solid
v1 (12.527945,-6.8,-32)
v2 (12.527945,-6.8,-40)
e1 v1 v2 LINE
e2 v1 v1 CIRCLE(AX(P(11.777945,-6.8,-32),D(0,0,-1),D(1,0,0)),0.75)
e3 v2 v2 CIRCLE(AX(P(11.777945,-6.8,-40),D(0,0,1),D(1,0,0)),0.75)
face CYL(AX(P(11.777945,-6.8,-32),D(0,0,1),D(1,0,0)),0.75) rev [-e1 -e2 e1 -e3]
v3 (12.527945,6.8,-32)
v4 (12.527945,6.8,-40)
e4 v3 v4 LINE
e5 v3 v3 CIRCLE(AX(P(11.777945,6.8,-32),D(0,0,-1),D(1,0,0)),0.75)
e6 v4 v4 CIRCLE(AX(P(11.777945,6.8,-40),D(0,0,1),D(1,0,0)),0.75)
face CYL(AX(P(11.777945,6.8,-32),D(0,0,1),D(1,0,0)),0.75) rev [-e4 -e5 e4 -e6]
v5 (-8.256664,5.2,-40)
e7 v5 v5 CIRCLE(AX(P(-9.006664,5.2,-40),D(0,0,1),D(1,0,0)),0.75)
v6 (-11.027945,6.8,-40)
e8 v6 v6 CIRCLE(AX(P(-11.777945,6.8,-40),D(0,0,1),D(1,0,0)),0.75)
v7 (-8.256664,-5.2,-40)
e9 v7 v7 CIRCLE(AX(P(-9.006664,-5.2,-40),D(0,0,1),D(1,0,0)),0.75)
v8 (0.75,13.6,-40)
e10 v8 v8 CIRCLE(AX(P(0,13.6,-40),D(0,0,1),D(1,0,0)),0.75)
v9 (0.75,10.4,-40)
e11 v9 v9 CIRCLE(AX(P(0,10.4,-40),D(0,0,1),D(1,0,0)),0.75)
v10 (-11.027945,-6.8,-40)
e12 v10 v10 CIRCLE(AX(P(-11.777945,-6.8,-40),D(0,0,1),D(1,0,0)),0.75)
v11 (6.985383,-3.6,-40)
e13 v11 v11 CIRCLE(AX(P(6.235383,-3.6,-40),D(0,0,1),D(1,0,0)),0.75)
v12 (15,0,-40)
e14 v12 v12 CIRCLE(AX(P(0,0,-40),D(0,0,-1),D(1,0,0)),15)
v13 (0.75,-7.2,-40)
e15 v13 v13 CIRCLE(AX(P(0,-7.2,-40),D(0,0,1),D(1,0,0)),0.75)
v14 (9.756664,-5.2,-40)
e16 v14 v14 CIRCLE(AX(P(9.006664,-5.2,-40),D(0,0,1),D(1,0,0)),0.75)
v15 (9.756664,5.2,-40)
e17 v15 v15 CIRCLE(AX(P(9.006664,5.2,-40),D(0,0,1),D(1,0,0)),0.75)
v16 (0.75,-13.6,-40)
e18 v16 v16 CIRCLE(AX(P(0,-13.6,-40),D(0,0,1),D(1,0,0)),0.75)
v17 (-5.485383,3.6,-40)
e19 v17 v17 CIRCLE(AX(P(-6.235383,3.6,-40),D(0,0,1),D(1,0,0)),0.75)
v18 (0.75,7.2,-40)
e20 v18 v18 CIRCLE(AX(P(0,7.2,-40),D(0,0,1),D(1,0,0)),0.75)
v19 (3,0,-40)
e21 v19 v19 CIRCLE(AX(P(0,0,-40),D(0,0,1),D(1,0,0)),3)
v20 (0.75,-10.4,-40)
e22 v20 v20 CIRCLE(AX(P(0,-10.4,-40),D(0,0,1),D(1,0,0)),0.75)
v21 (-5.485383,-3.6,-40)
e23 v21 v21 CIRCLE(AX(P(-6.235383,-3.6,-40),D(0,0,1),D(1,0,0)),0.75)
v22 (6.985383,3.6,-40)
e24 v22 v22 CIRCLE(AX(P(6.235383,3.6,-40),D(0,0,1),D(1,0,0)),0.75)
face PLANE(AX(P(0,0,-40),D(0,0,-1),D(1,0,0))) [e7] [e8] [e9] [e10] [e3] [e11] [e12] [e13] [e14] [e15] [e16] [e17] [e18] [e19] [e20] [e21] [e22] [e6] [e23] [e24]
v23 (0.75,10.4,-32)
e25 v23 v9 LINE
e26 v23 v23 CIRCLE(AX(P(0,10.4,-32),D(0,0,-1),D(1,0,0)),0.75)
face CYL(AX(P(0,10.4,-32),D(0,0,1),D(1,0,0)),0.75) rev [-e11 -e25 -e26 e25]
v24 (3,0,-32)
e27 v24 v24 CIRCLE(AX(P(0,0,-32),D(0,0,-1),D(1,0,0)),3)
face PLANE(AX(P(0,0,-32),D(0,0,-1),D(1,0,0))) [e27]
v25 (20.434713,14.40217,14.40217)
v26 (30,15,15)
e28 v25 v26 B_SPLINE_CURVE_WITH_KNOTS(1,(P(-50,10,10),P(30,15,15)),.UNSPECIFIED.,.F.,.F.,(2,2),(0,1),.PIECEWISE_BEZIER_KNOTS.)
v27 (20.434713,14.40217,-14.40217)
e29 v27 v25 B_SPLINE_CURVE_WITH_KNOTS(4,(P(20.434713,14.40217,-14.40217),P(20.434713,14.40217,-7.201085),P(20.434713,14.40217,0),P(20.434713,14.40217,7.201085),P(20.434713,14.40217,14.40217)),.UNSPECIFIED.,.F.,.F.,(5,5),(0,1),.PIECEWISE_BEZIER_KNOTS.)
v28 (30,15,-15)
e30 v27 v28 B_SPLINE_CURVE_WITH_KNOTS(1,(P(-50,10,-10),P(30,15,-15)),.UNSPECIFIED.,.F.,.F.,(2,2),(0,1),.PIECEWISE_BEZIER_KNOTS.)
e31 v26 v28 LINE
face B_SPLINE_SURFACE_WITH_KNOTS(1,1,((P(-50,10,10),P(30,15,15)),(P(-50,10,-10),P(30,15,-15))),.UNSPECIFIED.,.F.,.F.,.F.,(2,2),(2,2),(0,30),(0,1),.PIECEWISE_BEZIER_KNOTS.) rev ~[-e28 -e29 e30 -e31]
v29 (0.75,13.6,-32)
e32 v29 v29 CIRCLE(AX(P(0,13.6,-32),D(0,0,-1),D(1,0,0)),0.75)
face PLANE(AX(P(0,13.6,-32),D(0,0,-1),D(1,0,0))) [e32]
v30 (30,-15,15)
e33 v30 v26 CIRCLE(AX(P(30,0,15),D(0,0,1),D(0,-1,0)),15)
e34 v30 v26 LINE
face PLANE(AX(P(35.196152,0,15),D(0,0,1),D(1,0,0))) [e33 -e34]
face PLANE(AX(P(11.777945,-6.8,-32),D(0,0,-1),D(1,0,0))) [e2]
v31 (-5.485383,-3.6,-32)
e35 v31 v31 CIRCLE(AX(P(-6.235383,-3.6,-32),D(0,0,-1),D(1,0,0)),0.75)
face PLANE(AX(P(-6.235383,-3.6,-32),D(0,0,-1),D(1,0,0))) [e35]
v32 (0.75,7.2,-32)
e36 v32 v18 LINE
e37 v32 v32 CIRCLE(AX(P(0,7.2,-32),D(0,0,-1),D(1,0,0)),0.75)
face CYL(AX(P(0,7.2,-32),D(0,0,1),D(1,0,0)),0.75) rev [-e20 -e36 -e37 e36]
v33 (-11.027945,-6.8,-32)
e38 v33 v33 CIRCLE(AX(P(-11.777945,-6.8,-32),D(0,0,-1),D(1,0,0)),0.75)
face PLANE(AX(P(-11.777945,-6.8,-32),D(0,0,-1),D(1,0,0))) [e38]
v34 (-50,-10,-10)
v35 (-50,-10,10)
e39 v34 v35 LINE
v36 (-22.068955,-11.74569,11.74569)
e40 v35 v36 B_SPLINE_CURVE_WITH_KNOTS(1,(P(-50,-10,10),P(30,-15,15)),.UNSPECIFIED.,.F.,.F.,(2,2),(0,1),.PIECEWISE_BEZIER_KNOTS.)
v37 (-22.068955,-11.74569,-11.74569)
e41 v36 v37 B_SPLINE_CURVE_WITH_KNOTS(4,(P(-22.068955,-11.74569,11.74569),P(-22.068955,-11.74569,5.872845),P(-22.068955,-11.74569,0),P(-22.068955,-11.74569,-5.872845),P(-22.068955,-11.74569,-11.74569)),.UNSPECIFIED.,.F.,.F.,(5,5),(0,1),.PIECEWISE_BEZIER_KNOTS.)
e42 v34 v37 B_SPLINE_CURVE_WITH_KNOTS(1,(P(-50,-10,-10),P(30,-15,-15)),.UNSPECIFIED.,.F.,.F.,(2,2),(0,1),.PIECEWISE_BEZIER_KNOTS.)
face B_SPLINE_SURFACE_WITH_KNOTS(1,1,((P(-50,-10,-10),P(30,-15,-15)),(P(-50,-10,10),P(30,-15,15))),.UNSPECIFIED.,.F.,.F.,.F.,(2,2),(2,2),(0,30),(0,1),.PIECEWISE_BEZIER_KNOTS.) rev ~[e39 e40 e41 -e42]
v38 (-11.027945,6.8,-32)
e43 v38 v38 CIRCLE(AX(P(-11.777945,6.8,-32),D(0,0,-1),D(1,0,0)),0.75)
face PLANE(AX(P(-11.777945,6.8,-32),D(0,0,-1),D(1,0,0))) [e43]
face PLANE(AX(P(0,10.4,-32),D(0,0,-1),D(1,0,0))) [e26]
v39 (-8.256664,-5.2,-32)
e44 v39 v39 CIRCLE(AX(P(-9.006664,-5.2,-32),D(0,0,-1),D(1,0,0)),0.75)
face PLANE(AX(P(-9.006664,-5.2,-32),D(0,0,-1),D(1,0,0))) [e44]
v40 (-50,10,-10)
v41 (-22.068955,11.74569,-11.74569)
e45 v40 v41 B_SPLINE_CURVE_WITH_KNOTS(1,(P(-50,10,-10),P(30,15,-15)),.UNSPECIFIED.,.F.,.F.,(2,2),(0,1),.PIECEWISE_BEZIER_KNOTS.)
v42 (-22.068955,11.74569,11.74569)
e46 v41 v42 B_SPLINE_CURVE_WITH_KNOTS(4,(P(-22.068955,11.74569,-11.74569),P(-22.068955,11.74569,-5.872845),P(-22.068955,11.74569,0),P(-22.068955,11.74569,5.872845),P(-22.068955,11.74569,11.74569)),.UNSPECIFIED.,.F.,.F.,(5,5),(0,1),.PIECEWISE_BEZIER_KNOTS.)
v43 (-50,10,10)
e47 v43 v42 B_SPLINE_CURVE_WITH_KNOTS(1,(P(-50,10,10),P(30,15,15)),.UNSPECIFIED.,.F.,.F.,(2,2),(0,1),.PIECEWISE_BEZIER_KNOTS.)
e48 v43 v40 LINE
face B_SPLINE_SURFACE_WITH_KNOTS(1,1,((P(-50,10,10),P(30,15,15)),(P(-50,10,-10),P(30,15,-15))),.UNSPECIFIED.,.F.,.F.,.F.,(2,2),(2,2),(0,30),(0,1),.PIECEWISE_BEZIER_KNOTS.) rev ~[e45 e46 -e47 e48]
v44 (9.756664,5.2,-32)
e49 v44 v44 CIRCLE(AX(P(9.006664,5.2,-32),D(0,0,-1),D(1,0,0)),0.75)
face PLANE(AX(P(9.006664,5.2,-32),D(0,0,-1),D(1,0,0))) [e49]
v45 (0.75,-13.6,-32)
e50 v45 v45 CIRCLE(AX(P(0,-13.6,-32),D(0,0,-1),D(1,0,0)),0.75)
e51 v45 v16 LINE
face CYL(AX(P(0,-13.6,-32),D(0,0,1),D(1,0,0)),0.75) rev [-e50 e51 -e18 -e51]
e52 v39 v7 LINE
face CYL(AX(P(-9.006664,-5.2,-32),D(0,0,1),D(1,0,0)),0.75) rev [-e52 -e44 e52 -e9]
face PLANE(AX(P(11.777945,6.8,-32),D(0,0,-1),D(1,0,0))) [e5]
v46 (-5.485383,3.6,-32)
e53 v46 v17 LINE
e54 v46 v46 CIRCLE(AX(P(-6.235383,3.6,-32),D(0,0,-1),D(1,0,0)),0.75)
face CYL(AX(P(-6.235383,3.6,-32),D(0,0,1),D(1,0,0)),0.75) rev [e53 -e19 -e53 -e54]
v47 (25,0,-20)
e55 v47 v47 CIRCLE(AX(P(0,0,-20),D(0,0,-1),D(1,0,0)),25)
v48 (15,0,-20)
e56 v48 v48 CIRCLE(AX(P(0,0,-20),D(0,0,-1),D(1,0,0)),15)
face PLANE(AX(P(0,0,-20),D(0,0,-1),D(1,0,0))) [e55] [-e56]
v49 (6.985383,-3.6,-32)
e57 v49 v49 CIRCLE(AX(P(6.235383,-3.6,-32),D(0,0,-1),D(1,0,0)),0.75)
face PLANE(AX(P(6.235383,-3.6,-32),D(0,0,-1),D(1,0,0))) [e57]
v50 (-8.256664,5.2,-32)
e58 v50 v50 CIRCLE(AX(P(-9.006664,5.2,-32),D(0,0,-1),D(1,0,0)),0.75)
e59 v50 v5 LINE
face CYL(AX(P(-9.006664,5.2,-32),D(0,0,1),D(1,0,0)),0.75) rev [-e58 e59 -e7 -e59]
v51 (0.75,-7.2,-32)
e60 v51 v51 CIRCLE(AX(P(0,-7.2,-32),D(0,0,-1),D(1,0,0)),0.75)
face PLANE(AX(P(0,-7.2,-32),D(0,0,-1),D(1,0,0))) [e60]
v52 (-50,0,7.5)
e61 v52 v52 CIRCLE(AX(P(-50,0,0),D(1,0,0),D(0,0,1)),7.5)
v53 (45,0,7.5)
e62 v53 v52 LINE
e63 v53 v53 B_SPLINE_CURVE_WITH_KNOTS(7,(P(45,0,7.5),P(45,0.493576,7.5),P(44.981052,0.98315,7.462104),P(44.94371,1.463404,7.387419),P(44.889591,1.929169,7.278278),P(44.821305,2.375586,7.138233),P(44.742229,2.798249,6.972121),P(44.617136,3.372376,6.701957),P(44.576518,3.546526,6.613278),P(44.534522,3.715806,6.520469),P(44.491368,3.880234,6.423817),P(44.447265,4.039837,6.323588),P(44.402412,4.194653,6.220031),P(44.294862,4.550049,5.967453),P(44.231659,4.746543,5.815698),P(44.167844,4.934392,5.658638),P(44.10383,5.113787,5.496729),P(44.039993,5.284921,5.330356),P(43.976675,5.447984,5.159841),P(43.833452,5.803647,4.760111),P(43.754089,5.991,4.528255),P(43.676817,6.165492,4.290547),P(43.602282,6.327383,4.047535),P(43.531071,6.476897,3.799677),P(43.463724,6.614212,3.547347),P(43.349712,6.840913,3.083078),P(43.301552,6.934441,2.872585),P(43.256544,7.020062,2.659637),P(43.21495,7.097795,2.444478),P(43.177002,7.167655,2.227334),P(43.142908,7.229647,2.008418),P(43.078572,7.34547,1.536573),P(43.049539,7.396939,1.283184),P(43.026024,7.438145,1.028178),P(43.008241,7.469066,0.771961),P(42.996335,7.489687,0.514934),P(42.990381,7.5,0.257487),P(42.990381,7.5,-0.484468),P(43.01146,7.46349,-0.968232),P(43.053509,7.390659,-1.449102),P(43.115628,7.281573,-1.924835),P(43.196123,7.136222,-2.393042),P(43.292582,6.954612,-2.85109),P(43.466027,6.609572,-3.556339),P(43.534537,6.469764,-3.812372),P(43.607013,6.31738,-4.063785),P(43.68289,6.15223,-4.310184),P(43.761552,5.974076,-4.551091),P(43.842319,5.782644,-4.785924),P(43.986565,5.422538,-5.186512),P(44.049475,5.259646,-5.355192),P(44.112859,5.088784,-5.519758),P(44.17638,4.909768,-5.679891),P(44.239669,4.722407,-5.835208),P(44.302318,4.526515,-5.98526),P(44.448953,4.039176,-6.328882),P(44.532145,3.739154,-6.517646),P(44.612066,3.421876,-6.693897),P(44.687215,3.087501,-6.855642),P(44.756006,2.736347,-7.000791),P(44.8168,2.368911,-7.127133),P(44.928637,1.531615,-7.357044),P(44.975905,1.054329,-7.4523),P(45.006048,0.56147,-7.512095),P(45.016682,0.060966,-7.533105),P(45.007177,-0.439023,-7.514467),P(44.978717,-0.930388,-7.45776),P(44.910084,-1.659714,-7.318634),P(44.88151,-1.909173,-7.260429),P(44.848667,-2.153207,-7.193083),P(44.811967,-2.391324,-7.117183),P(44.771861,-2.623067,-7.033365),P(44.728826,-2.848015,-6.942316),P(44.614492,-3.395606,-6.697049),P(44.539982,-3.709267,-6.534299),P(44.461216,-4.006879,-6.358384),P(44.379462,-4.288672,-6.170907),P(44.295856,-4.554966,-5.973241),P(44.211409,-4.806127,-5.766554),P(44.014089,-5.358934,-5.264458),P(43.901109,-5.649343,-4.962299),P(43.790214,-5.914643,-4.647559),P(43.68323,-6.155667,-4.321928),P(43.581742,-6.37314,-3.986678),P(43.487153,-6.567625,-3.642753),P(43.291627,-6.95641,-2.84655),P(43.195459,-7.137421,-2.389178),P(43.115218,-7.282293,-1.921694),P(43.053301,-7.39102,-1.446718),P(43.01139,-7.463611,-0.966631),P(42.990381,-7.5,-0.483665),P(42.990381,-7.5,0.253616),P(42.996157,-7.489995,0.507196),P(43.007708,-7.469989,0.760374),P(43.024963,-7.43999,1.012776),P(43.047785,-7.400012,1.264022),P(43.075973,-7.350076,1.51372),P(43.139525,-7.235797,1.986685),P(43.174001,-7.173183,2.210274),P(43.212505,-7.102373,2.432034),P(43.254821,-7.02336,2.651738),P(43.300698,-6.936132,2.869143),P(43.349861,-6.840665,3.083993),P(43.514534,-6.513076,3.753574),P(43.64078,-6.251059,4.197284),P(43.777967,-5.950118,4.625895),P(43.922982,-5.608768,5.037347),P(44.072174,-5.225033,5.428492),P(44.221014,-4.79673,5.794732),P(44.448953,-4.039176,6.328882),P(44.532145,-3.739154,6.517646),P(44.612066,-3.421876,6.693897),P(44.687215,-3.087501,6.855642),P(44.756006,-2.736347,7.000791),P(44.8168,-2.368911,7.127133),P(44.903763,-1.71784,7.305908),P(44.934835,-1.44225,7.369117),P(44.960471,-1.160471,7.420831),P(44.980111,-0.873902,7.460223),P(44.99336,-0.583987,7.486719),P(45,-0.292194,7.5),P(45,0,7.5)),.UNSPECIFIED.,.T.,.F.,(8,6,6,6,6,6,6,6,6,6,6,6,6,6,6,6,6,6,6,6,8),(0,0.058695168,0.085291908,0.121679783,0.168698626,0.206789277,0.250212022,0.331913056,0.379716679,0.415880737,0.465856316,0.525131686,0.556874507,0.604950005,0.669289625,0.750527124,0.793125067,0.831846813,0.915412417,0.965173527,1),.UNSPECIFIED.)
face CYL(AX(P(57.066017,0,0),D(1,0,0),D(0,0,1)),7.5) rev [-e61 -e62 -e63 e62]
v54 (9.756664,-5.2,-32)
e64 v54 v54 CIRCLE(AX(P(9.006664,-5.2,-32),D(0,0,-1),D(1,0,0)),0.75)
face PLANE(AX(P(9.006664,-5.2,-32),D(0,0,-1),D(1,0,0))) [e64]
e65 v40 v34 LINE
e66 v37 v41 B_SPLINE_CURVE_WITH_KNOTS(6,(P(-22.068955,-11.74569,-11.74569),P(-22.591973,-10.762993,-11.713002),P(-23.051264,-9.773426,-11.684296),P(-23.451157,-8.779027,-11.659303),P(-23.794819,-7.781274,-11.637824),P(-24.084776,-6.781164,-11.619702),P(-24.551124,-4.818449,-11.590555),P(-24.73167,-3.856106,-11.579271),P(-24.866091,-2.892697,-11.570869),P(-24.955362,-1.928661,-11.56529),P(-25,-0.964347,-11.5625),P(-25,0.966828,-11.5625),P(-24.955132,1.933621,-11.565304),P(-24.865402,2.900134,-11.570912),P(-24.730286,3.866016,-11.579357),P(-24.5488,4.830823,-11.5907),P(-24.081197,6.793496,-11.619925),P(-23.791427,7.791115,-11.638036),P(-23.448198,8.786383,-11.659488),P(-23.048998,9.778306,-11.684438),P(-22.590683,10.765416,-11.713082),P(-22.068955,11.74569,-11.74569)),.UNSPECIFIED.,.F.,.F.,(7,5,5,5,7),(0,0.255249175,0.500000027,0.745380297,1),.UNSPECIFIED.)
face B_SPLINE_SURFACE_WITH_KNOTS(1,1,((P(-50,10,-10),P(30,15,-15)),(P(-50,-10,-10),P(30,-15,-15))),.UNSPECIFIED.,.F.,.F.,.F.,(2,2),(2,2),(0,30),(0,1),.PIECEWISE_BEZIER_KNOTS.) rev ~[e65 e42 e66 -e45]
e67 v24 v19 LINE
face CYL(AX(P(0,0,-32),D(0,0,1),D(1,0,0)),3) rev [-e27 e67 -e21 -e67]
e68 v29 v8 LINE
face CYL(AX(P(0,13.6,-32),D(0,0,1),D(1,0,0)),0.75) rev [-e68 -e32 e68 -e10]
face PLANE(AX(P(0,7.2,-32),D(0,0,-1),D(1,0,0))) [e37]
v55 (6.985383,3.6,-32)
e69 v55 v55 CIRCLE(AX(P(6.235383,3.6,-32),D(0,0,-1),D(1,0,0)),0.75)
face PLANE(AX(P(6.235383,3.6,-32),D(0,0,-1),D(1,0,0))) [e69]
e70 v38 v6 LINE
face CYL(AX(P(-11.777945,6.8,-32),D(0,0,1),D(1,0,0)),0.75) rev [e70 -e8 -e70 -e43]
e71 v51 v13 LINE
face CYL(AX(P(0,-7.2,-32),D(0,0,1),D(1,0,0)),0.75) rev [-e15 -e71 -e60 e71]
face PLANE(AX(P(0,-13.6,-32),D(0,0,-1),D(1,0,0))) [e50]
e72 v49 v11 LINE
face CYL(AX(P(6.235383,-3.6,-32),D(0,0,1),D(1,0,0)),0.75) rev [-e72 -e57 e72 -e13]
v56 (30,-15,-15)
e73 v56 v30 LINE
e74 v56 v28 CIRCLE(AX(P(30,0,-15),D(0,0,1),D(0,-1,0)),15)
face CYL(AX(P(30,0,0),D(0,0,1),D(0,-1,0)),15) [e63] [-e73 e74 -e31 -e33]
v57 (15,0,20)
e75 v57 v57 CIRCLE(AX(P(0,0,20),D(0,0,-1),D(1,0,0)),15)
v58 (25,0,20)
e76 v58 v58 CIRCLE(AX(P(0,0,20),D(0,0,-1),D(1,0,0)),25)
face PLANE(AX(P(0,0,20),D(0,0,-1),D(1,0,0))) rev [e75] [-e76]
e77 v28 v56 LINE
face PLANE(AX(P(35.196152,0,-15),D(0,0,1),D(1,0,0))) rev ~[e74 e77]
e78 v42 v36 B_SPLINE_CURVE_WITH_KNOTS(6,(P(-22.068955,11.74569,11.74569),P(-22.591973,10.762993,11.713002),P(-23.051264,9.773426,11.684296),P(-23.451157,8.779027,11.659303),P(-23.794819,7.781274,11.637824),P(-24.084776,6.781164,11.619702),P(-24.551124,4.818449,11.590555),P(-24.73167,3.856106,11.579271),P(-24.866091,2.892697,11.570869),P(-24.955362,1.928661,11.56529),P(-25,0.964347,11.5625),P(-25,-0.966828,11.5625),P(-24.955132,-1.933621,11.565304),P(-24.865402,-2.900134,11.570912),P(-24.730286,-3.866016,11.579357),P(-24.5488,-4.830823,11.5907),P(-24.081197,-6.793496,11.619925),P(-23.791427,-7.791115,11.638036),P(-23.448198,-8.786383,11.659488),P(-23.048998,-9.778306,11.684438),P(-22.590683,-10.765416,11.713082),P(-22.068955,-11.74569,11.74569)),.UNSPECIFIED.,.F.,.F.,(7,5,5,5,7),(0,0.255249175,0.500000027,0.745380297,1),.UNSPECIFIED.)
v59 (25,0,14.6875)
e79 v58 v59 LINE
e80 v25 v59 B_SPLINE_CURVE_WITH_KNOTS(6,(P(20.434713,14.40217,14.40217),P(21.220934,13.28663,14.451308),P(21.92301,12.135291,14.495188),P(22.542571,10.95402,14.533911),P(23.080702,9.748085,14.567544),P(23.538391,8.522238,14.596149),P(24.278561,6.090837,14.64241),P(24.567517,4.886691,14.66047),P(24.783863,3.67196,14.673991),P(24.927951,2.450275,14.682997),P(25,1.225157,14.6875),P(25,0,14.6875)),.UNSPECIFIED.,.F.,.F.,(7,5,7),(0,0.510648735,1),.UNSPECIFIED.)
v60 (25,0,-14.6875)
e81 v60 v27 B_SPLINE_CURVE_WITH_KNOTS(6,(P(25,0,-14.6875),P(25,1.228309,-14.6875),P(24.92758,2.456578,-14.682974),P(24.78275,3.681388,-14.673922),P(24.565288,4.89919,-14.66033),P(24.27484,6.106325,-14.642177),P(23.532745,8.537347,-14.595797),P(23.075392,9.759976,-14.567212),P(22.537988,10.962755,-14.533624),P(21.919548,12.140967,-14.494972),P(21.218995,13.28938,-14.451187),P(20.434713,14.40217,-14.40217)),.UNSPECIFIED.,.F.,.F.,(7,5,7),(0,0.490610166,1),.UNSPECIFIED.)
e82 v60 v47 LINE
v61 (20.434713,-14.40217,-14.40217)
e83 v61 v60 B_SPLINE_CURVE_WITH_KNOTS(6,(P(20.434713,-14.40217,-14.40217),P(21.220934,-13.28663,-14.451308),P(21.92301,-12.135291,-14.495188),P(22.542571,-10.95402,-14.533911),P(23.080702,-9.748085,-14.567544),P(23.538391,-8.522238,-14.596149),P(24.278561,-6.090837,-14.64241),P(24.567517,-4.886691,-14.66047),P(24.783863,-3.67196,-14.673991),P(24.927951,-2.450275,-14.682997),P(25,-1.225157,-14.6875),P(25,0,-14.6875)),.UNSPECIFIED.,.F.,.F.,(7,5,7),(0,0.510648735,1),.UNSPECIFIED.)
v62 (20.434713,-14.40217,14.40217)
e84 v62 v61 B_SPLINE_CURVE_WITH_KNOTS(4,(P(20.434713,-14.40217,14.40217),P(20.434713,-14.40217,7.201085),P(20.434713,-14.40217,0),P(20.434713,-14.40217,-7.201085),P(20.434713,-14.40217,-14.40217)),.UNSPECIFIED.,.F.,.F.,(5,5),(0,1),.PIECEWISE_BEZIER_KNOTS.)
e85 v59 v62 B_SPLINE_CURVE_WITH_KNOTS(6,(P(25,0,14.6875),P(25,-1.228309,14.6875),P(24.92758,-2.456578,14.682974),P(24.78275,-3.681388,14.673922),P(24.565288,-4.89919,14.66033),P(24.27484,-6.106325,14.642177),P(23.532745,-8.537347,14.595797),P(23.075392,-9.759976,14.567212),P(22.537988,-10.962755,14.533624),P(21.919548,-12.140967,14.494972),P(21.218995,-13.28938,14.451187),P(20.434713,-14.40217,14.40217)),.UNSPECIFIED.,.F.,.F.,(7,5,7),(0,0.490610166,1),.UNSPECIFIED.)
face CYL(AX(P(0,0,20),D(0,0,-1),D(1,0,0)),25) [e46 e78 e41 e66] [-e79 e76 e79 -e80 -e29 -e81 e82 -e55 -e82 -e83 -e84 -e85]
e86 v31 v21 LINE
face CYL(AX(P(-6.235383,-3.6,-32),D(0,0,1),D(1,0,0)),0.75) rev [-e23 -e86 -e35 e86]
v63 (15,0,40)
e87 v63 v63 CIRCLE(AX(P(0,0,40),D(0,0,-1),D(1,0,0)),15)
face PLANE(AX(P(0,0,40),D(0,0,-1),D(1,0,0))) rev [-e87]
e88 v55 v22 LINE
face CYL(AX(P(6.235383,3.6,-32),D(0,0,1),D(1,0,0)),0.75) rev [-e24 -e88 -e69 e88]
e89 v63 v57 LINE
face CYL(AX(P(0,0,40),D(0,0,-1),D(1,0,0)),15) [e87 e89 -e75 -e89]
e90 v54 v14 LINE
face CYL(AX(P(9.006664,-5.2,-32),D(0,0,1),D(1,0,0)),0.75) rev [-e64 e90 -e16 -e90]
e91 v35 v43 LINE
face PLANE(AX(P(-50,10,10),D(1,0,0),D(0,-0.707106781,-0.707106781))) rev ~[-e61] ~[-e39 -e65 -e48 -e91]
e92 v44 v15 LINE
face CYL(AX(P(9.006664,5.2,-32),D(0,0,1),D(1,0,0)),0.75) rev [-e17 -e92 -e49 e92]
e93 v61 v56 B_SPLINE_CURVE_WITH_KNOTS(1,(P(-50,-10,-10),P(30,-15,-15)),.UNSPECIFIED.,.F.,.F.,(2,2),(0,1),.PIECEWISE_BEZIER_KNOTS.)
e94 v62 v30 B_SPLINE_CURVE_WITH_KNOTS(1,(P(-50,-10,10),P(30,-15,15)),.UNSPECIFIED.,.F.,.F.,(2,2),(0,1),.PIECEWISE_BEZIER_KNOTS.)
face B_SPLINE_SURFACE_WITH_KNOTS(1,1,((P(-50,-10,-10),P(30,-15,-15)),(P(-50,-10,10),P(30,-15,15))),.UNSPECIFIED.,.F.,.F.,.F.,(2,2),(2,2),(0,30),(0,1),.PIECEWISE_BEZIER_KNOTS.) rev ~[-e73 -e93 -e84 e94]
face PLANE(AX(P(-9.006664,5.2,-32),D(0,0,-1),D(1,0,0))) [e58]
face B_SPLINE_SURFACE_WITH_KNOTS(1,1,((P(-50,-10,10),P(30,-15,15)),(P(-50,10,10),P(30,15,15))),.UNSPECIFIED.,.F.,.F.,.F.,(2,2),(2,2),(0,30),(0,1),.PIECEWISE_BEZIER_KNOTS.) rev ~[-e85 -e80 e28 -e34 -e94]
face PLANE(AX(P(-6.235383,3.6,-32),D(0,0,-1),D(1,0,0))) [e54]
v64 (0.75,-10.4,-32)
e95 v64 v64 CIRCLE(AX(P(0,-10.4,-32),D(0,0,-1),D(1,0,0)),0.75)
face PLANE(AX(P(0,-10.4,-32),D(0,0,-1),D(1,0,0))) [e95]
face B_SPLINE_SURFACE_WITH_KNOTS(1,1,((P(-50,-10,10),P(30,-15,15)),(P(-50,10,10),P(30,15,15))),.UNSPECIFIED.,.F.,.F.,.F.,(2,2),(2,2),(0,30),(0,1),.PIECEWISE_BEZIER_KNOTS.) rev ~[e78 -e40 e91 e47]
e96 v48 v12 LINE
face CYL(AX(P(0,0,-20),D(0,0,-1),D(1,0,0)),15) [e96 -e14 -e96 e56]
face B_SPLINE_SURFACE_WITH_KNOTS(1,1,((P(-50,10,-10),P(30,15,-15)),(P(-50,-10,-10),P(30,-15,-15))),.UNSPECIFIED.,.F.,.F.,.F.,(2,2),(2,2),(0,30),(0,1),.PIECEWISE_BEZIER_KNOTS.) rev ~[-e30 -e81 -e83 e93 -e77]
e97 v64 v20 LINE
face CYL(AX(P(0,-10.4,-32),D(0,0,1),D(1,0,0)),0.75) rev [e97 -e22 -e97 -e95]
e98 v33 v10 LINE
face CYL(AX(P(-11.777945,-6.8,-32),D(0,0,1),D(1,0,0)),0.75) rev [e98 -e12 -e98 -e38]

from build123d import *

# Parameters (mm, degrees)
BOSS_EXTRUDE1_DEPTH     = 15
CUT_EXTRUDE1_DEPTH      = 107.066017202
CUT_EXTRUDE1_DEPTH_BACK = 107.066017202
SKETCH8_R               = 7.5
CUT_EXTRUDE2_DEPTH      = 98.596106557
CUT_EXTRUDE2_DEPTH_BACK = 8
SKETCH9_R               = 0.75
SKETCH9_R_2             = 3


with BuildPart() as part:
    # Sketch1 → Revolve1 (revolve)
    with BuildSketch(Plane(origin=(0, 0, 0), x_dir=(0, 0, -1), z_dir=(1, 0, 0)), mode=Mode.PRIVATE) as revolve1_sk:
        Polygon((0, 0), (-40, 0), (-40, 15), (-20, 15), (-20, 25), (20, 25), (20, 15), (40, 15), (40, 0), align=None)
    revolve(revolve1_sk.sketch.rotate(Axis((0, 0, 74.697986577), (0, 0, -1)), 90), axis=Axis((0, 0, 74.697986577), (0, 0, -1)))

    # Sketch3 → Loft1 section 0
    with BuildSketch(Plane(origin=(-50, 0, 0), x_dir=(0, 0, -1), z_dir=(1, 0, 0))):
        with BuildLine():
            Line((-10, 10), (10, 10))
            Line((10, 10), (10, -10))
            Line((10, -10), (-10, -10))
            Line((-10, -10), (-10, 10))
        make_face()
    # Sketch4 → Loft1 section 1
    with BuildSketch(Plane(origin=(30, 0, 0), x_dir=(0, 0, -1), z_dir=(1, 0, 0))):
        with BuildLine():
            Line((-15, 15), (15, 15))
            Line((15, 15), (15, -15))
            Line((15, -15), (-15, -15))
            Line((-15, -15), (-15, 15))
        make_face()
    loft()

    # Sketch7 → Boss-Extrude1 (add, symmetric)
    with BuildSketch(Plane.XY):
        with BuildLine():
            Line((30, 15), (30, -15))
            ThreePointArc((30, -15), (45, 0), (30, 15))
        make_face()
    extrude(amount=BOSS_EXTRUDE1_DEPTH, both=True)

    # Sketch8 → Cut-Extrude1 (cut, two sides: drawn at the far end of the back side and taken through both)
    with BuildSketch(Plane.ZY.offset(50).offset(-CUT_EXTRUDE1_DEPTH_BACK)):
        Circle(SKETCH8_R)
    extrude(amount=CUT_EXTRUDE1_DEPTH + CUT_EXTRUDE1_DEPTH_BACK, mode=Mode.SUBTRACT)

    # Sketch9 → Cut-Extrude2 (cut, two sides: drawn at the far end of the back side and taken through both)
    with BuildSketch(Plane(origin=(0, 0, -40), x_dir=(-1, 0, 0), z_dir=(0, 0, -1)).offset(-CUT_EXTRUDE2_DEPTH_BACK)):
        with Locations(Location((0, 7.2, 0), (0, 0, 180))):
            Circle(SKETCH9_R)
        with Locations(Location((0, 10.4, 0), (0, 0, 180))):
            Circle(SKETCH9_R)
        with Locations(Location((0, 13.6, 0), (0, 0, 180))):
            Circle(SKETCH9_R)
        with Locations(Location((11.777945491, 6.8, 0), (0, 0, 180))):
            Circle(SKETCH9_R)
        with Locations(Location((9.006664199, 5.2, 0), (0, 0, 180))):
            Circle(SKETCH9_R)
        with Locations(Location((6.235382907, 3.6, 0), (0, 0, 180))):
            Circle(SKETCH9_R)
        with Locations(Location((11.777945491, -6.8, 0), (0, 0, 180))):
            Circle(SKETCH9_R)
        with Locations(Location((9.006664199, -5.2, 0), (0, 0, 180))):
            Circle(SKETCH9_R)
        with Locations(Location((6.235382907, -3.6, 0), (0, 0, 180))):
            Circle(SKETCH9_R)
        with Locations(Location((0, -13.6, 0), (0, 0, 180))):
            Circle(SKETCH9_R)
        with Locations(Location((0, -10.4, 0), (0, 0, 180))):
            Circle(SKETCH9_R)
        with Locations(Location((0, -7.2, 0), (0, 0, 180))):
            Circle(SKETCH9_R)
        with Locations(Location((-11.777945491, -6.8, 0), (0, 0, 180))):
            Circle(SKETCH9_R)
        with Locations(Location((-9.006664199, -5.2, 0), (0, 0, 180))):
            Circle(SKETCH9_R)
        with Locations(Location((-6.235382907, -3.6, 0), (0, 0, 180))):
            Circle(SKETCH9_R)
        with Locations(Location((-11.777945491, 6.8, 0), (0, 0, 180))):
            Circle(SKETCH9_R)
        with Locations(Location((-9.006664199, 5.2, 0), (0, 0, 180))):
            Circle(SKETCH9_R)
        with Locations(Location((-6.235382907, 3.6, 0), (0, 0, 180))):
            Circle(SKETCH9_R)
        with Locations(Location((0, 0, 0), (0, 0, 180))):
            Circle(SKETCH9_R_2)
    extrude(amount=CUT_EXTRUDE2_DEPTH + CUT_EXTRUDE2_DEPTH_BACK, mode=Mode.SUBTRACT)


solid = part.part
